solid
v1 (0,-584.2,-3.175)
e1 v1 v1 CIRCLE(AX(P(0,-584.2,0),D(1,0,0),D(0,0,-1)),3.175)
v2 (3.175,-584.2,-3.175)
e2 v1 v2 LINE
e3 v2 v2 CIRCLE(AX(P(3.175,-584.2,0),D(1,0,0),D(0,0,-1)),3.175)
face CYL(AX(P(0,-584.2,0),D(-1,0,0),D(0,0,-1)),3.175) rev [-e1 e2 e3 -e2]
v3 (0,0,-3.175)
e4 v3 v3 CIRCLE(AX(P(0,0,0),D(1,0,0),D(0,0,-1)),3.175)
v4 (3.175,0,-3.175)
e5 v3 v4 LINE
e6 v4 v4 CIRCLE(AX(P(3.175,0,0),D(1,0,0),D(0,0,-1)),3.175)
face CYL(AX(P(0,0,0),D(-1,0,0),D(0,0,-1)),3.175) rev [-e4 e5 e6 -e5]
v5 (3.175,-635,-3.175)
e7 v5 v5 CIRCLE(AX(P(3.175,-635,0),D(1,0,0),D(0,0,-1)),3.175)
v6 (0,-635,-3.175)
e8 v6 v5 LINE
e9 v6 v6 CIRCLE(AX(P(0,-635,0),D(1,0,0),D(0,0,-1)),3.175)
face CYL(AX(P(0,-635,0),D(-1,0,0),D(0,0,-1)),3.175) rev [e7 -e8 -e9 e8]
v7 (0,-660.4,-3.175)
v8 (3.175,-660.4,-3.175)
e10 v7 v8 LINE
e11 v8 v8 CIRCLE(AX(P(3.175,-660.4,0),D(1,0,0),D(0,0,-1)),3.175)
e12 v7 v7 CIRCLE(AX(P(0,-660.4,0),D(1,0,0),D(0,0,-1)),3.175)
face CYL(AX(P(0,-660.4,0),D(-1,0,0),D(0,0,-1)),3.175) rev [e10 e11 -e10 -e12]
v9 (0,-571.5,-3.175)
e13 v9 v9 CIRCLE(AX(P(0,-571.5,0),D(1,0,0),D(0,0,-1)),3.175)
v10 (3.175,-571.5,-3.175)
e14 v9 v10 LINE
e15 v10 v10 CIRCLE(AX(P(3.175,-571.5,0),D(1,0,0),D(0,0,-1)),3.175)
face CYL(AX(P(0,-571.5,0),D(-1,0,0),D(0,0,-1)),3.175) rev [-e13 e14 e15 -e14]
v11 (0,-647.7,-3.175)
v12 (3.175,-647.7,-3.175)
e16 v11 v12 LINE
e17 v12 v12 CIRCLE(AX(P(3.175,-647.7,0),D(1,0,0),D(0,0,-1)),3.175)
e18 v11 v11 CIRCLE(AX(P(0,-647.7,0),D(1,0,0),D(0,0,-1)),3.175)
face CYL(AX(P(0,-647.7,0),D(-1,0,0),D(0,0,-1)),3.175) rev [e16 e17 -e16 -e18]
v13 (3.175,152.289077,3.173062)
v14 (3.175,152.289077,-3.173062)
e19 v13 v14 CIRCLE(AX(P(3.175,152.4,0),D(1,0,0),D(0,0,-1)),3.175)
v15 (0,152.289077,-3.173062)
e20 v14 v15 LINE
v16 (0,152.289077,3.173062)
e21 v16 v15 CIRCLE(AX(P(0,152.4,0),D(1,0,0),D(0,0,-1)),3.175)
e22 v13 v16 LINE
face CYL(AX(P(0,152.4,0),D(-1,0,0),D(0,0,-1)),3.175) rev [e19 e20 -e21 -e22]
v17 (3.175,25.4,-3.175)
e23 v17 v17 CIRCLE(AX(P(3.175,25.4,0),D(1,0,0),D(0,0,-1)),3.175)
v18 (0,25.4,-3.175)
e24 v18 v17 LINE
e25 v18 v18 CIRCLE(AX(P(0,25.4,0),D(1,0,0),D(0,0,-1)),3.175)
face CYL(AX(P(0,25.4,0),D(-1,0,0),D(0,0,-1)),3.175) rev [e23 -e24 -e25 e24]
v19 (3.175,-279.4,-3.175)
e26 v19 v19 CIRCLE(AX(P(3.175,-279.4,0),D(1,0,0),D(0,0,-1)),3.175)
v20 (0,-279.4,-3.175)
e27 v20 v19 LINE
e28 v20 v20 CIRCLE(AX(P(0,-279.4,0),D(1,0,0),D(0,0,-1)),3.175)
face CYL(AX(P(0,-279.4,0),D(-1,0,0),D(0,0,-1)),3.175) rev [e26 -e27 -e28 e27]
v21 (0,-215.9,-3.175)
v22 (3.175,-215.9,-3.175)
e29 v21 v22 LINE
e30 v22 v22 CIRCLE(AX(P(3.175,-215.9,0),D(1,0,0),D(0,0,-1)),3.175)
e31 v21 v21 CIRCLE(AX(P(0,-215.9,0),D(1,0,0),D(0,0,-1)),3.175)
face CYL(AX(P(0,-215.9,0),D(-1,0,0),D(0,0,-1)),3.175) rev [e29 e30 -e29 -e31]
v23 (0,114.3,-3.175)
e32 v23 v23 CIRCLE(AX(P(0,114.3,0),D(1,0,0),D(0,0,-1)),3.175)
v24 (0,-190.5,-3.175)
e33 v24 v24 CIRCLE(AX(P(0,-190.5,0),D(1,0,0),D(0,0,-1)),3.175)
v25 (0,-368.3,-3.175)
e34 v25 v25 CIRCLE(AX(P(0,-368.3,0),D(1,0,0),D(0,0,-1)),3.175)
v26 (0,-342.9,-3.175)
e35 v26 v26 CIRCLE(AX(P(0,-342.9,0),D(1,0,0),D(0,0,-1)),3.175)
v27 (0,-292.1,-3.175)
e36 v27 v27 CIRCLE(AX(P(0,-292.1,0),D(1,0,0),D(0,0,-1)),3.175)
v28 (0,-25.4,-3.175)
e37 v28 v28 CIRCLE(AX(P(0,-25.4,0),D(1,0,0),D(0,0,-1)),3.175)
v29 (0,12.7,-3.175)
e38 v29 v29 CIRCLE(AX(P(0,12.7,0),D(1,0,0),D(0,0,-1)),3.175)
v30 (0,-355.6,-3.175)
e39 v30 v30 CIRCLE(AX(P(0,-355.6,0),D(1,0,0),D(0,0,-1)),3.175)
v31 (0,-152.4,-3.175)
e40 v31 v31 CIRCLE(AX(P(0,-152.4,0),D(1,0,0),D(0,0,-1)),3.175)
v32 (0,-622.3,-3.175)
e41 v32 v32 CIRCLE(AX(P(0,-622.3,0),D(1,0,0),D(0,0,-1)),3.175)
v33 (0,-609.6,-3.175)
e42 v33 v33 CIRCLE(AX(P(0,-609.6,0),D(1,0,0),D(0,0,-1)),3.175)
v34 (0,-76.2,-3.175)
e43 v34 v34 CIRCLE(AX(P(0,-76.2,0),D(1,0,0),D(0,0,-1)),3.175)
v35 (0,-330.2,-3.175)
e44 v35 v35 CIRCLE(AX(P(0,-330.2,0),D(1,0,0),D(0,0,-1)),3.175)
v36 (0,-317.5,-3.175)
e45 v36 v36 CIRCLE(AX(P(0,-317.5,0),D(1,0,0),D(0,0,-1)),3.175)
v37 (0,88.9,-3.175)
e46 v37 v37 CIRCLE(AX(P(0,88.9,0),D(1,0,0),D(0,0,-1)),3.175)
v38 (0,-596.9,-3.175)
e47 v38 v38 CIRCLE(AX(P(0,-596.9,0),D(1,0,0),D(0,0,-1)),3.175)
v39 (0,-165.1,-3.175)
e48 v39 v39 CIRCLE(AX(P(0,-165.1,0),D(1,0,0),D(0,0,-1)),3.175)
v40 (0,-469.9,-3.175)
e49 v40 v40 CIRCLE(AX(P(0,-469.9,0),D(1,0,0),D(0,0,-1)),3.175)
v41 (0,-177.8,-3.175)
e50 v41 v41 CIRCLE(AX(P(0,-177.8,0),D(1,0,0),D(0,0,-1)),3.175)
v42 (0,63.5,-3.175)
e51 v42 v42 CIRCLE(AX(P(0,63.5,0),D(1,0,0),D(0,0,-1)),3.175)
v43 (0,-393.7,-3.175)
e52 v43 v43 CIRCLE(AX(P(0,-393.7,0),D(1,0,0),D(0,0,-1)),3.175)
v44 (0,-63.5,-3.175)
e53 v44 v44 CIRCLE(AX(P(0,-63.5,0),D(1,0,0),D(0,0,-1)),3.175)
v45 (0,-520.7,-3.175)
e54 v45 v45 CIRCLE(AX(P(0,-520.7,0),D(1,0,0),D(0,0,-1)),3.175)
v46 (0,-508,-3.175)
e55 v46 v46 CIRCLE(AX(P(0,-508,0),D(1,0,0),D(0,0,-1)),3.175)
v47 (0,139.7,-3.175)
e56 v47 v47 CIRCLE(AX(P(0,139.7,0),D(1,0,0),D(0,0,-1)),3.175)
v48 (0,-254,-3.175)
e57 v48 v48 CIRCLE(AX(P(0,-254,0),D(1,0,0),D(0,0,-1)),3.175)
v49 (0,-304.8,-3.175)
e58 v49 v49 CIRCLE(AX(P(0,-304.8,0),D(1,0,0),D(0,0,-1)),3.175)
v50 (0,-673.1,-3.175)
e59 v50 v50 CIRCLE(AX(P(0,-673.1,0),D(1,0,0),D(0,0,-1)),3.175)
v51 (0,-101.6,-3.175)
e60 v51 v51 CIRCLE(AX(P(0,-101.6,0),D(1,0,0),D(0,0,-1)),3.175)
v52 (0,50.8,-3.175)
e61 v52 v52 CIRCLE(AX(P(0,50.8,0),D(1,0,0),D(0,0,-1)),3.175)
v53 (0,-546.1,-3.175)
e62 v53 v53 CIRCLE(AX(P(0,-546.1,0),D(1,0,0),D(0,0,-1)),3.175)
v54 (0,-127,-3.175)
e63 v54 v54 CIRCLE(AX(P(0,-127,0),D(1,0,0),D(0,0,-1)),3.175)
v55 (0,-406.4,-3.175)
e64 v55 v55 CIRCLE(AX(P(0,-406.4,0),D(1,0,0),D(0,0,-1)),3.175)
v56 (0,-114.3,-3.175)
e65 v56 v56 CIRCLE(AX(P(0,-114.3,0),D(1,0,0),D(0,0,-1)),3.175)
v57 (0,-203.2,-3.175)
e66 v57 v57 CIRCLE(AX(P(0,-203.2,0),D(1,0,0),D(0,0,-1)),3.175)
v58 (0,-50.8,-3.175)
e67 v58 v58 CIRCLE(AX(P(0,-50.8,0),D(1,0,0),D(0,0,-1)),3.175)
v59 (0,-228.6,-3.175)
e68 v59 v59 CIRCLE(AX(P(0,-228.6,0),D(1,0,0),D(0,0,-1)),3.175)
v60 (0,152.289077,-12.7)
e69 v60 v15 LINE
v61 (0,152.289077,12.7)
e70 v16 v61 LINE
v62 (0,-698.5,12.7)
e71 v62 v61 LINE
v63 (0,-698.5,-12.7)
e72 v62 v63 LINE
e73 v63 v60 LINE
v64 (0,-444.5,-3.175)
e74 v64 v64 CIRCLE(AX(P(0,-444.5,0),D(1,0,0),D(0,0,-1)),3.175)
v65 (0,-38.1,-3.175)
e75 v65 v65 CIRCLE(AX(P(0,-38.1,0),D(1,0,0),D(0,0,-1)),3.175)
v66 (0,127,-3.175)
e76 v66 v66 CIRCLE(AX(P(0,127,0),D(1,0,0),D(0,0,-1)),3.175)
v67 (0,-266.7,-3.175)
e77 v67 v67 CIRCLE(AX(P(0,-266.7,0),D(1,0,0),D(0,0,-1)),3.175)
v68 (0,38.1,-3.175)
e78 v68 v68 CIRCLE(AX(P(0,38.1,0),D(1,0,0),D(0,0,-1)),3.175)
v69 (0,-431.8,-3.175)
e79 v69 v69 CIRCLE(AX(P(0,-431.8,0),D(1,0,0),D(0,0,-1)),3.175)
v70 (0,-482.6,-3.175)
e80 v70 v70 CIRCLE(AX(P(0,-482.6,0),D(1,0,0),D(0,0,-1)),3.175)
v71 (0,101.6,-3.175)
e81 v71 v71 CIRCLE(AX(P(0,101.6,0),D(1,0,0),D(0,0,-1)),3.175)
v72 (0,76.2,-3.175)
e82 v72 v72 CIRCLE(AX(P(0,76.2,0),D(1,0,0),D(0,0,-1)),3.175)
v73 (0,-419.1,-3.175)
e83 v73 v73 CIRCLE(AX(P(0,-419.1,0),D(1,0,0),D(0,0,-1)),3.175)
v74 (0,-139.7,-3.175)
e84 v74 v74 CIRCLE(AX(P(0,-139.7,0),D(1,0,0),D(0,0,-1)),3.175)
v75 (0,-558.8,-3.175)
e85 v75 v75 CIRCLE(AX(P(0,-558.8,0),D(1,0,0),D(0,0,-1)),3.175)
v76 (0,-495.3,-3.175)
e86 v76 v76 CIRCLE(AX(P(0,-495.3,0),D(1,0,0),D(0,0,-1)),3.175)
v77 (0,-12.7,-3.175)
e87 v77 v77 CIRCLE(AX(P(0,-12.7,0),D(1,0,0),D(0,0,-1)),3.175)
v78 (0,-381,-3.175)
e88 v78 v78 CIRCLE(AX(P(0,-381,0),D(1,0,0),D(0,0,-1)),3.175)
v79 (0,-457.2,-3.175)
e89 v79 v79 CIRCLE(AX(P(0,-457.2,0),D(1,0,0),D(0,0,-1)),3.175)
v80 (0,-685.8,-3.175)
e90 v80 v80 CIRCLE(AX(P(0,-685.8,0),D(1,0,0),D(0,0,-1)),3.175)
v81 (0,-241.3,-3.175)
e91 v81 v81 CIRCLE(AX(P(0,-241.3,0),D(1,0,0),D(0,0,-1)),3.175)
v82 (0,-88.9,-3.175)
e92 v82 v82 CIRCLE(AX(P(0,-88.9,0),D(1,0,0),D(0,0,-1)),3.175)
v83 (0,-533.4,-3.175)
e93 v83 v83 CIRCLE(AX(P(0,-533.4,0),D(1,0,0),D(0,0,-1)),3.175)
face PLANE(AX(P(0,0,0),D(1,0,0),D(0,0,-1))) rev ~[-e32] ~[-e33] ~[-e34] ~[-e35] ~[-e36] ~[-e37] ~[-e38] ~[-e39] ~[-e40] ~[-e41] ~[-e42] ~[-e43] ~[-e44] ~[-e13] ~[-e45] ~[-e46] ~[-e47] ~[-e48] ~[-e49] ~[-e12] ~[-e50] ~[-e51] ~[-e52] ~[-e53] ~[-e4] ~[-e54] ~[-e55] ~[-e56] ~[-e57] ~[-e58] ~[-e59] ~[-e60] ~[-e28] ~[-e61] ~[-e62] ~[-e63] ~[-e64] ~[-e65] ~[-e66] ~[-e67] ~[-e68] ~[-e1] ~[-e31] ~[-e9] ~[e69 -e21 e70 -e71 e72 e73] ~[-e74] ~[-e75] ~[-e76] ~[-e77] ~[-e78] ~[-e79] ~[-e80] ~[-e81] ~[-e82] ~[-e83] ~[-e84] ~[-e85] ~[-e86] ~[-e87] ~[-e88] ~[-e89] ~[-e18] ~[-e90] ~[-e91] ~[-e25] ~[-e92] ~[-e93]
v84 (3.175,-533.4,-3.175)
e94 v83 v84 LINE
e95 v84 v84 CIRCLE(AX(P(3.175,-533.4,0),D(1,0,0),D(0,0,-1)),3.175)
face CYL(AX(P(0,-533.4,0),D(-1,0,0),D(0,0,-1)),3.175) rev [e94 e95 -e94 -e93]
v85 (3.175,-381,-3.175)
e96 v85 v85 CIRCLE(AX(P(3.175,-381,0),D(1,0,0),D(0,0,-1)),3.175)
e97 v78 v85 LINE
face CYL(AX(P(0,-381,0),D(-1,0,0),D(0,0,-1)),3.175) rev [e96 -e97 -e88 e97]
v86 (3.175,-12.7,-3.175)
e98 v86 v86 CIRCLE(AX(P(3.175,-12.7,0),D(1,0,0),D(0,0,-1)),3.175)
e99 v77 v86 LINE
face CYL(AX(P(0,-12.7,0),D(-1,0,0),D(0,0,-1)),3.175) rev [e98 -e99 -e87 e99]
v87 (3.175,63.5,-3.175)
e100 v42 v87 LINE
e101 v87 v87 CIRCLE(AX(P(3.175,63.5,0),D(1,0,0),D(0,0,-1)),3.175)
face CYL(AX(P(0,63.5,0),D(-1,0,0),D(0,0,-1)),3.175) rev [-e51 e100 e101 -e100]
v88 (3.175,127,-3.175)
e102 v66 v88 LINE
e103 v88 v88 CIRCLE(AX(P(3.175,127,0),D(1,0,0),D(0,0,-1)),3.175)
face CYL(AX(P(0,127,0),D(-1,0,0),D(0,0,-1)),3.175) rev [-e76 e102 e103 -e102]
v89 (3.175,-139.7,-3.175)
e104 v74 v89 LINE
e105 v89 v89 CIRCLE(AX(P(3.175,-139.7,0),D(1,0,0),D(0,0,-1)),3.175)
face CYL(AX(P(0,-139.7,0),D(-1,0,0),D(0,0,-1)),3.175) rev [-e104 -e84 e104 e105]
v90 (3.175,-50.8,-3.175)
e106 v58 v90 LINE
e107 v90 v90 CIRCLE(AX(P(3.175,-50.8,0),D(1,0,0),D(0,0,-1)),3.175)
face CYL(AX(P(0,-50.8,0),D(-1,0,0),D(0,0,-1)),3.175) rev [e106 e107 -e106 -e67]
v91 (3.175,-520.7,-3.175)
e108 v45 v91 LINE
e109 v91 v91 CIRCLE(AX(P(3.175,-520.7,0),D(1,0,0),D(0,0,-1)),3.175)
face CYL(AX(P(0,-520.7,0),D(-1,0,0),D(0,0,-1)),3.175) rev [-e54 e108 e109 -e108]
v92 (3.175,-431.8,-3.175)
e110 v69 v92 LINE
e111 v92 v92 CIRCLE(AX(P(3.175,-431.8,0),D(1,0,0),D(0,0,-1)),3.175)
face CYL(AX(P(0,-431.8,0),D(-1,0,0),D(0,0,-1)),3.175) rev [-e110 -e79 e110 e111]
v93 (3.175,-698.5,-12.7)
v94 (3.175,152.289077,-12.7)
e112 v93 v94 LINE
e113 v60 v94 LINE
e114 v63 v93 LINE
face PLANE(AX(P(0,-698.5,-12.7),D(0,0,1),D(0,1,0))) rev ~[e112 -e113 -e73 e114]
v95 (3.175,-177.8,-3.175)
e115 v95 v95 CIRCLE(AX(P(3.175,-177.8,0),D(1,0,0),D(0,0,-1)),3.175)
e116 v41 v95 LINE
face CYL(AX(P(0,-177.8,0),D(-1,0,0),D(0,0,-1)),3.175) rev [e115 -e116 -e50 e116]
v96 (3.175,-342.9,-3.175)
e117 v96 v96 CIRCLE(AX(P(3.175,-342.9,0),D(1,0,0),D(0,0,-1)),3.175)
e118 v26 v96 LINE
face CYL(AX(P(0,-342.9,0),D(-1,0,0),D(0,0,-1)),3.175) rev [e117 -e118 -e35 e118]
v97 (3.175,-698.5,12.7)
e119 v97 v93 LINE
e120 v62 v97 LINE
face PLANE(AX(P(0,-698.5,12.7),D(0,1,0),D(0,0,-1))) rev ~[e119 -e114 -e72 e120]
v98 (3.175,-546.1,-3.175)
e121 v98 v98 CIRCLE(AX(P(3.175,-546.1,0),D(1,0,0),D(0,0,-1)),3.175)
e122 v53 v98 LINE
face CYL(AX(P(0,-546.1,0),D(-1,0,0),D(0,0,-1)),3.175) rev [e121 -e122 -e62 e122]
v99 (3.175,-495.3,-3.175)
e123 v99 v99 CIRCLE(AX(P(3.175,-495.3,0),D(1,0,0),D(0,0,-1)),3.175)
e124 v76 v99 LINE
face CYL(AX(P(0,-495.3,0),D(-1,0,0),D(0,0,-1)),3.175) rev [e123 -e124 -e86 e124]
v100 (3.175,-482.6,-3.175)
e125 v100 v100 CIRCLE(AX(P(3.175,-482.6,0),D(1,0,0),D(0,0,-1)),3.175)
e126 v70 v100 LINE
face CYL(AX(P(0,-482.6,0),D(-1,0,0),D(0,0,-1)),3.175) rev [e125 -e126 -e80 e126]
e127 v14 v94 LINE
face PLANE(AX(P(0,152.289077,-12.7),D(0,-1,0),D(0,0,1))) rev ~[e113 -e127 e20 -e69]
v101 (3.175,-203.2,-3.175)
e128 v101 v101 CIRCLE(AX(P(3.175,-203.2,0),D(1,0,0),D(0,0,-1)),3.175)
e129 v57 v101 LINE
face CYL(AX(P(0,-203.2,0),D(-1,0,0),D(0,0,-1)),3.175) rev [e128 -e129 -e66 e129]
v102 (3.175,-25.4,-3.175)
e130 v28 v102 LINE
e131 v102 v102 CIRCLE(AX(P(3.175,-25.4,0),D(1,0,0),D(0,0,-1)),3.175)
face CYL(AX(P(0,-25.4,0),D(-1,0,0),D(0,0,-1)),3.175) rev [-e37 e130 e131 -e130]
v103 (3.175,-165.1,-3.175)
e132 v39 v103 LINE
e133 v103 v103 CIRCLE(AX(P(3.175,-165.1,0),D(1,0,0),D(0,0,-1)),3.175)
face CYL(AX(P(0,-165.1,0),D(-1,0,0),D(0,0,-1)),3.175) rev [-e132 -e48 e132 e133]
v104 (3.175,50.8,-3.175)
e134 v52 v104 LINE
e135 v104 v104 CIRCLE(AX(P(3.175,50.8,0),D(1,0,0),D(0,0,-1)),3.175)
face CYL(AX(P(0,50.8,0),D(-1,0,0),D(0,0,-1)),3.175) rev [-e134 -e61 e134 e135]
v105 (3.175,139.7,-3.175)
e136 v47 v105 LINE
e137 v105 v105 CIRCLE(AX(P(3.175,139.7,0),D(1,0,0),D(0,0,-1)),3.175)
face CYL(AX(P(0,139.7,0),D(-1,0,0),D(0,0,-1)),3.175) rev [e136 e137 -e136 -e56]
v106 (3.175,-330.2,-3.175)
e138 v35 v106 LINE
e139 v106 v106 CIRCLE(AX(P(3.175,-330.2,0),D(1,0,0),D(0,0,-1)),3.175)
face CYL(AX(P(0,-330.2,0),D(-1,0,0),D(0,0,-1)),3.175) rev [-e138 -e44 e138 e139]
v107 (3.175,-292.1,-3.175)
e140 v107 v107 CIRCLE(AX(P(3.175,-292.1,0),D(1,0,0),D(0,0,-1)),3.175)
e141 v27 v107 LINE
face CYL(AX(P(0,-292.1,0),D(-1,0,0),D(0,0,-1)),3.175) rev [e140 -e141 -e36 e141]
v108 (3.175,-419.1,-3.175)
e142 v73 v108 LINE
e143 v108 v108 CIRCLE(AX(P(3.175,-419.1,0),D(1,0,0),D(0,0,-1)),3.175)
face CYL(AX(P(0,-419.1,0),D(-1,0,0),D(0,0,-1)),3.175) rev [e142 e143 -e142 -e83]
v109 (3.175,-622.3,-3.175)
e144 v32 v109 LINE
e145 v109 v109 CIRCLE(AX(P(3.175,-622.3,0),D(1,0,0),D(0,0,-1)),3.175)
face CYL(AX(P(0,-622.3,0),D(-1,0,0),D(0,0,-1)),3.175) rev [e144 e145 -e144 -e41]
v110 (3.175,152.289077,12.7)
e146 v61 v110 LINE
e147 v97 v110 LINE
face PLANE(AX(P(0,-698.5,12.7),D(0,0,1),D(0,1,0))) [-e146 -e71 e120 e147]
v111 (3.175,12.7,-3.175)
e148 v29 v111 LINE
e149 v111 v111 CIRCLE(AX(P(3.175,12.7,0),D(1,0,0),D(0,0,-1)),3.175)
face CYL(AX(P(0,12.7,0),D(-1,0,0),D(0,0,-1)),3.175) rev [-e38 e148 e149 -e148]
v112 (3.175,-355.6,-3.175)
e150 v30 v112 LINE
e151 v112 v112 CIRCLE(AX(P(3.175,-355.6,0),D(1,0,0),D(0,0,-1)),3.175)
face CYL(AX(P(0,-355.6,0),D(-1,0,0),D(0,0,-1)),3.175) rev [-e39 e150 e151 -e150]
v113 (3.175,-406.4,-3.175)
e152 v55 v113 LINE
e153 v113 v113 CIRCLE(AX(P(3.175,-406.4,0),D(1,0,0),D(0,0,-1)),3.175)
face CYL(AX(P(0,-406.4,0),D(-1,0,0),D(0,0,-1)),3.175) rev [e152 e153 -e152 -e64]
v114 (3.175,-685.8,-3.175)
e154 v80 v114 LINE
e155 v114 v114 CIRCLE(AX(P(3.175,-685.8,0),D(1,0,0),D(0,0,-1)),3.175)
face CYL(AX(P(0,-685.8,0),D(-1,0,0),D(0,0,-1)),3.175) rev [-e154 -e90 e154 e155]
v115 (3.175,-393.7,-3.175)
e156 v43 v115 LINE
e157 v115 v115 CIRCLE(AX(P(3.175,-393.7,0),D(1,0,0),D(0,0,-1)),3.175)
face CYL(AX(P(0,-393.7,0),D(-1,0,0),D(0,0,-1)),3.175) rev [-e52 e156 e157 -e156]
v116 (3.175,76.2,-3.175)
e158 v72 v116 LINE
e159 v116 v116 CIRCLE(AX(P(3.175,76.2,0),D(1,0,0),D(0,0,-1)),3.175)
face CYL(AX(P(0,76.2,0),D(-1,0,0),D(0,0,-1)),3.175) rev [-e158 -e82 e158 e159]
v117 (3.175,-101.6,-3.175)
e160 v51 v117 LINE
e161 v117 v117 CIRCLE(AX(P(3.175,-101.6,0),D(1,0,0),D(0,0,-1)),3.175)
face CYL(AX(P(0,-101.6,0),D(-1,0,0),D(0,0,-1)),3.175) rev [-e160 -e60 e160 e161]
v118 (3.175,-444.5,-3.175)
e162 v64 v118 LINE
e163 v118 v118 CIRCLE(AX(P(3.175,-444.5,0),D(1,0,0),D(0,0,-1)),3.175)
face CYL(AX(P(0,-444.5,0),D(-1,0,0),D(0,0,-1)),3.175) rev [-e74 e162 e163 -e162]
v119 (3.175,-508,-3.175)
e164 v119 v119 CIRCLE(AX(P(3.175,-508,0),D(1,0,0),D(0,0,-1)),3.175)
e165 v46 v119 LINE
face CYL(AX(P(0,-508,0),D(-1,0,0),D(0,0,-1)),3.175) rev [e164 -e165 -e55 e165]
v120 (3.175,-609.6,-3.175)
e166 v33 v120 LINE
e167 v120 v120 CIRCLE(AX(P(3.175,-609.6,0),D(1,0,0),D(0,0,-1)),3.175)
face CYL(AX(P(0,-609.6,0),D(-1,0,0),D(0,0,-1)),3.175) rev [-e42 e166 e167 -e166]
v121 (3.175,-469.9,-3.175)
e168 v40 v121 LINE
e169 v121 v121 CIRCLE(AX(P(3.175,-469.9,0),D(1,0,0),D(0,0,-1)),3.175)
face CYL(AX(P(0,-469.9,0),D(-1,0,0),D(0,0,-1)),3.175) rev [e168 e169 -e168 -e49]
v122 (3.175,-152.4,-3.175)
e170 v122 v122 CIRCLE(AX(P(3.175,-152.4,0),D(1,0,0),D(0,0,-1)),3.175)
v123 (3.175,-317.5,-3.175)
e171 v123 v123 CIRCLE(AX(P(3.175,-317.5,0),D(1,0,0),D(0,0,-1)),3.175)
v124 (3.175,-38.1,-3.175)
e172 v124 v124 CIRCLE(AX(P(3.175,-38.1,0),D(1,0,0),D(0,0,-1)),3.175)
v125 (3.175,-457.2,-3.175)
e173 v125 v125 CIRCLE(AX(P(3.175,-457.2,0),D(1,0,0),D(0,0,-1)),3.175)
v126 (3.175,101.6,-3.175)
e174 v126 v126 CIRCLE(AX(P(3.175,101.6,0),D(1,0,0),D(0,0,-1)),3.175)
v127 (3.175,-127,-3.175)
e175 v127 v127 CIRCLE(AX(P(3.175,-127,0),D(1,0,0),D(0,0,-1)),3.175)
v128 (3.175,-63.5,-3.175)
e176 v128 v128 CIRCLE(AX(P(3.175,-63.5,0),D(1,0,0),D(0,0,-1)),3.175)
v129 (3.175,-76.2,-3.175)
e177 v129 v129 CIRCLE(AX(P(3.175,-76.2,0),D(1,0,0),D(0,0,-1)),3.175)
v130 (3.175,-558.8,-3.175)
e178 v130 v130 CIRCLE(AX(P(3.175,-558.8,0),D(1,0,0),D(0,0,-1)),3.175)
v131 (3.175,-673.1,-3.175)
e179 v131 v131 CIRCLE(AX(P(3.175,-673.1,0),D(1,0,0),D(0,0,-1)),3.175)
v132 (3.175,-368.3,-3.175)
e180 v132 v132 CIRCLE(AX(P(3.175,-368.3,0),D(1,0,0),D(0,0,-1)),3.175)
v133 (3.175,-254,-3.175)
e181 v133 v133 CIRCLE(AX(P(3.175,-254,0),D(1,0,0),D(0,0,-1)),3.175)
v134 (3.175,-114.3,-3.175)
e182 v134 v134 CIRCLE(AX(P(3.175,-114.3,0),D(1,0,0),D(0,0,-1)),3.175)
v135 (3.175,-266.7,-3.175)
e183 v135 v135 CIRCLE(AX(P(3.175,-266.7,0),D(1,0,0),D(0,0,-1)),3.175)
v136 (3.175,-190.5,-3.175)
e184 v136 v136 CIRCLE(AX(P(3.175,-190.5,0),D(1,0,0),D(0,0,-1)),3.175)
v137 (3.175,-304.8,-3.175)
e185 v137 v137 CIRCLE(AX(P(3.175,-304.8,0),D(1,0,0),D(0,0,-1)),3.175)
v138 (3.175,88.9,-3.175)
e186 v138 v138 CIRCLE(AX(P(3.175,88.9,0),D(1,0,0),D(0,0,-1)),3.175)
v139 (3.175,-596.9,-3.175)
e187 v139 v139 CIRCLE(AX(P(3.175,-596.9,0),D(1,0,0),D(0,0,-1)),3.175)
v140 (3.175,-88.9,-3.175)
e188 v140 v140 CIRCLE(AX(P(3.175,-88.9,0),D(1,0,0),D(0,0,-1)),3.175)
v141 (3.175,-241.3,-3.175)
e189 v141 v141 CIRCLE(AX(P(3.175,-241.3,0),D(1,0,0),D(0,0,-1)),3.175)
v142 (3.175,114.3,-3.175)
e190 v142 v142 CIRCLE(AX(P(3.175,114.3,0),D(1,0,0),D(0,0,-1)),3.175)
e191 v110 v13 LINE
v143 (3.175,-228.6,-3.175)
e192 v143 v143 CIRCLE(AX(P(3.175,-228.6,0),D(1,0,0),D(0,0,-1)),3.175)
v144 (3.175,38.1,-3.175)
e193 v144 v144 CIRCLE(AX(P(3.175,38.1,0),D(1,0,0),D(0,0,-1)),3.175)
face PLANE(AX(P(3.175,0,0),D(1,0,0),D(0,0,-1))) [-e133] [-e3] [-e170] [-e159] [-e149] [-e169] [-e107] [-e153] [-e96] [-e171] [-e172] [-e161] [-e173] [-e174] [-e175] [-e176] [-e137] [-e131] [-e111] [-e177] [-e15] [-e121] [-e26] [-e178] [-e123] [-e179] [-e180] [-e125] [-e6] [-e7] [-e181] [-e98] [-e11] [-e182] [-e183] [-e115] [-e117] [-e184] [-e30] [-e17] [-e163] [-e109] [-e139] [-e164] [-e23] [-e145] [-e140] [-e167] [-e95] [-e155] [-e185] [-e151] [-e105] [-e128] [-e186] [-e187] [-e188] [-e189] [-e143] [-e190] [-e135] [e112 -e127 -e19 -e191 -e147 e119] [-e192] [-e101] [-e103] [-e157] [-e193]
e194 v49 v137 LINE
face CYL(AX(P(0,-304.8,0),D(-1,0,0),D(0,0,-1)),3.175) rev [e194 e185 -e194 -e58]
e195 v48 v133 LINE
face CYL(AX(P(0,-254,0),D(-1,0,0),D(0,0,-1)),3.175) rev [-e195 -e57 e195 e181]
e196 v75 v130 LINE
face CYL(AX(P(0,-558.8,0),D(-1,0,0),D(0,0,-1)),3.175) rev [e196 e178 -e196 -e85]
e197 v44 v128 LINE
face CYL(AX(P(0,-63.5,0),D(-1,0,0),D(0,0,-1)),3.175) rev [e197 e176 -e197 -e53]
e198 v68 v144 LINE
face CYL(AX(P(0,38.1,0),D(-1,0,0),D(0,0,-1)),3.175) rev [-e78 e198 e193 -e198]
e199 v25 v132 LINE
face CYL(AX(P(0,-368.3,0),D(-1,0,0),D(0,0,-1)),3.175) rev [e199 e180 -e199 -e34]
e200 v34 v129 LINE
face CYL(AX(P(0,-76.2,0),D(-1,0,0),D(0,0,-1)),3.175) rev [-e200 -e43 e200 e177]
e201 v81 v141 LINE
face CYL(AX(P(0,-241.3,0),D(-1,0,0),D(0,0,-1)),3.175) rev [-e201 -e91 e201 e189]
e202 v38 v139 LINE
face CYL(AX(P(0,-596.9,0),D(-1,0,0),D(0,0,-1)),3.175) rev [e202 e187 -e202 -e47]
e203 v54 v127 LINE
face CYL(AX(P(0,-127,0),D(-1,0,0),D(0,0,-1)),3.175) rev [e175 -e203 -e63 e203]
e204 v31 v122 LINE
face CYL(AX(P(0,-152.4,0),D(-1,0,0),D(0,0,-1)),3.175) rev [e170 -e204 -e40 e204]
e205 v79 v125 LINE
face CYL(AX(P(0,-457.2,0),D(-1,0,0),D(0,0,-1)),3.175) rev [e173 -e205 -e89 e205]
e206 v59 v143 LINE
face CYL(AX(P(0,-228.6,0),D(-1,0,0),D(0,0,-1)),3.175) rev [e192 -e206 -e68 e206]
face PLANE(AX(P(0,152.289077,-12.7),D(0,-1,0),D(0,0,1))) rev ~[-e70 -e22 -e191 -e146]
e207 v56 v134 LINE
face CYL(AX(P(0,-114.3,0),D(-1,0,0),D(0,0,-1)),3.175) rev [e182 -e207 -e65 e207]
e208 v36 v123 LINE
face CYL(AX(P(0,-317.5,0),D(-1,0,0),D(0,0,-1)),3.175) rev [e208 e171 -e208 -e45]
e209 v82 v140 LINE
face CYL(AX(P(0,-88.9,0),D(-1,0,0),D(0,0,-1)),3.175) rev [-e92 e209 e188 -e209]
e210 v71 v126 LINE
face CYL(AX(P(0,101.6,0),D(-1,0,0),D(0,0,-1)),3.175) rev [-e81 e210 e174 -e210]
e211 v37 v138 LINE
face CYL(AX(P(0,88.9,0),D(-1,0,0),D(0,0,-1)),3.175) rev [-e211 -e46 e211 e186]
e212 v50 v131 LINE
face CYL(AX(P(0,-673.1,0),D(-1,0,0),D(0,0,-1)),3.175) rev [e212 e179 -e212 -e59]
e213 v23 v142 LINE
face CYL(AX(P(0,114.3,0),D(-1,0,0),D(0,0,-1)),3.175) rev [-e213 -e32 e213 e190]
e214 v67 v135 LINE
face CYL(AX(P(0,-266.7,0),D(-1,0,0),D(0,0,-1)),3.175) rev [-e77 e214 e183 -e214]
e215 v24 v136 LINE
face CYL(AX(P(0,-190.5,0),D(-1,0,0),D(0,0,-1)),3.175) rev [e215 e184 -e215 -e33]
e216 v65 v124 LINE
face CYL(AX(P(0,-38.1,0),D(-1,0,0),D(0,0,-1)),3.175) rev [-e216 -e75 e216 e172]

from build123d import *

# Parameters (mm, degrees)
SKETCH1_W           = 25.4
SKETCH1_H           = 1397
SKETCH1_R           = 3.175
BOSS_EXTRUDE1_DEPTH = 3.175
SKETCH2_W           = 25.4
SKETCH2_H           = 546.210923287
CUT_EXTRUDE1_DEPTH  = 699.622659685


with BuildPart() as part:
    # Sketch1 → Boss-Extrude1 (new body)
    with BuildSketch(Plane(origin=(0, 0, 0), x_dir=(0, 0, -1), z_dir=(1, 0, 0))):
        Rectangle(SKETCH1_W, SKETCH1_H)
        with Locations((0, -685.8)):
            Circle(SKETCH1_R, mode=Mode.SUBTRACT)
        with Locations((0, -673.1)):
            Circle(SKETCH1_R, mode=Mode.SUBTRACT)
        with Locations((0, -660.4)):
            Circle(SKETCH1_R, mode=Mode.SUBTRACT)
        with Locations((0, -647.7)):
            Circle(SKETCH1_R, mode=Mode.SUBTRACT)
        with Locations((0, -635)):
            Circle(SKETCH1_R, mode=Mode.SUBTRACT)
        with Locations((0, -622.3)):
            Circle(SKETCH1_R, mode=Mode.SUBTRACT)
        with Locations((0, -609.6)):
            Circle(SKETCH1_R, mode=Mode.SUBTRACT)
        with Locations((0, -596.9)):
            Circle(SKETCH1_R, mode=Mode.SUBTRACT)
        with Locations((0, -584.2)):
            Circle(SKETCH1_R, mode=Mode.SUBTRACT)
        with Locations((0, -571.5)):
            Circle(SKETCH1_R, mode=Mode.SUBTRACT)
        with Locations((0, -558.8)):
            Circle(SKETCH1_R, mode=Mode.SUBTRACT)
        with Locations((0, -546.1)):
            Circle(SKETCH1_R, mode=Mode.SUBTRACT)
        with Locations((0, -533.4)):
            Circle(SKETCH1_R, mode=Mode.SUBTRACT)
        with Locations((0, -520.7)):
            Circle(SKETCH1_R, mode=Mode.SUBTRACT)
        with Locations((0, -508)):
            Circle(SKETCH1_R, mode=Mode.SUBTRACT)
        with Locations((0, -495.3)):
            Circle(SKETCH1_R, mode=Mode.SUBTRACT)
        with Locations((0, -482.6)):
            Circle(SKETCH1_R, mode=Mode.SUBTRACT)
        with Locations((0, -469.9)):
            Circle(SKETCH1_R, mode=Mode.SUBTRACT)
        with Locations((0, -457.2)):
            Circle(SKETCH1_R, mode=Mode.SUBTRACT)
        with Locations((0, -444.5)):
            Circle(SKETCH1_R, mode=Mode.SUBTRACT)
        with Locations((0, -431.8)):
            Circle(SKETCH1_R, mode=Mode.SUBTRACT)
        with Locations((0, -419.1)):
            Circle(SKETCH1_R, mode=Mode.SUBTRACT)
        with Locations((0, -406.4)):
            Circle(SKETCH1_R, mode=Mode.SUBTRACT)
        with Locations((0, -393.7)):
            Circle(SKETCH1_R, mode=Mode.SUBTRACT)
        with Locations((0, -381)):
            Circle(SKETCH1_R, mode=Mode.SUBTRACT)
        with Locations((0, -368.3)):
            Circle(SKETCH1_R, mode=Mode.SUBTRACT)
        with Locations((0, -355.6)):
            Circle(SKETCH1_R, mode=Mode.SUBTRACT)
        with Locations((0, -342.9)):
            Circle(SKETCH1_R, mode=Mode.SUBTRACT)
        with Locations((0, -330.2)):
            Circle(SKETCH1_R, mode=Mode.SUBTRACT)
        with Locations((0, -317.5)):
            Circle(SKETCH1_R, mode=Mode.SUBTRACT)
        with Locations((0, -304.8)):
            Circle(SKETCH1_R, mode=Mode.SUBTRACT)
        with Locations((0, -292.1)):
            Circle(SKETCH1_R, mode=Mode.SUBTRACT)
        with Locations((0, -279.4)):
            Circle(SKETCH1_R, mode=Mode.SUBTRACT)
        with Locations((0, -266.7)):
            Circle(SKETCH1_R, mode=Mode.SUBTRACT)
        with Locations((0, -254)):
            Circle(SKETCH1_R, mode=Mode.SUBTRACT)
        with Locations((0, -241.3)):
            Circle(SKETCH1_R, mode=Mode.SUBTRACT)
        with Locations((0, -228.6)):
            Circle(SKETCH1_R, mode=Mode.SUBTRACT)
        with Locations((0, -215.9)):
            Circle(SKETCH1_R, mode=Mode.SUBTRACT)
        with Locations((0, -203.2)):
            Circle(SKETCH1_R, mode=Mode.SUBTRACT)
        with Locations((0, -190.5)):
            Circle(SKETCH1_R, mode=Mode.SUBTRACT)
        with Locations((0, -177.8)):
            Circle(SKETCH1_R, mode=Mode.SUBTRACT)
        with Locations((0, -165.1)):
            Circle(SKETCH1_R, mode=Mode.SUBTRACT)
        with Locations((0, -152.4)):
            Circle(SKETCH1_R, mode=Mode.SUBTRACT)
        with Locations((0, -139.7)):
            Circle(SKETCH1_R, mode=Mode.SUBTRACT)
        with Locations((0, -127)):
            Circle(SKETCH1_R, mode=Mode.SUBTRACT)
        with Locations((0, -114.3)):
            Circle(SKETCH1_R, mode=Mode.SUBTRACT)
        with Locations((0, -101.6)):
            Circle(SKETCH1_R, mode=Mode.SUBTRACT)
        with Locations((0, -88.9)):
            Circle(SKETCH1_R, mode=Mode.SUBTRACT)
        with Locations((0, -76.2)):
            Circle(SKETCH1_R, mode=Mode.SUBTRACT)
        with Locations((0, -63.5)):
            Circle(SKETCH1_R, mode=Mode.SUBTRACT)
        with Locations((0, -50.8)):
            Circle(SKETCH1_R, mode=Mode.SUBTRACT)
        with Locations((0, -38.1)):
            Circle(SKETCH1_R, mode=Mode.SUBTRACT)
        with Locations((0, -25.4)):
            Circle(SKETCH1_R, mode=Mode.SUBTRACT)
        with Locations((0, -12.7)):
            Circle(SKETCH1_R, mode=Mode.SUBTRACT)
        Circle(SKETCH1_R, mode=Mode.SUBTRACT)
        with Locations((0, 12.7)):
            Circle(SKETCH1_R, mode=Mode.SUBTRACT)
        with Locations((0, 25.4)):
            Circle(SKETCH1_R, mode=Mode.SUBTRACT)
        with Locations((0, 38.1)):
            Circle(SKETCH1_R, mode=Mode.SUBTRACT)
        with Locations((0, 50.8)):
            Circle(SKETCH1_R, mode=Mode.SUBTRACT)
        with Locations((0, 63.5)):
            Circle(SKETCH1_R, mode=Mode.SUBTRACT)
        with Locations((0, 76.2)):
            Circle(SKETCH1_R, mode=Mode.SUBTRACT)
        with Locations((0, 88.9)):
            Circle(SKETCH1_R, mode=Mode.SUBTRACT)
        with Locations((0, 101.6)):
            Circle(SKETCH1_R, mode=Mode.SUBTRACT)
        with Locations((0, 114.3)):
            Circle(SKETCH1_R, mode=Mode.SUBTRACT)
        with Locations((0, 127)):
            Circle(SKETCH1_R, mode=Mode.SUBTRACT)
        with Locations((0, 139.7)):
            Circle(SKETCH1_R, mode=Mode.SUBTRACT)
        with Locations((0, 152.4)):
            Circle(SKETCH1_R, mode=Mode.SUBTRACT)
        with Locations((0, 165.1)):
            Circle(SKETCH1_R, mode=Mode.SUBTRACT)
        with Locations((0, 177.8)):
            Circle(SKETCH1_R, mode=Mode.SUBTRACT)
        with Locations((0, 190.5)):
            Circle(SKETCH1_R, mode=Mode.SUBTRACT)
        with Locations((0, 203.2)):
            Circle(SKETCH1_R, mode=Mode.SUBTRACT)
        with Locations((0, 215.9)):
            Circle(SKETCH1_R, mode=Mode.SUBTRACT)
        with Locations((0, 228.6)):
            Circle(SKETCH1_R, mode=Mode.SUBTRACT)
        with Locations((0, 241.3)):
            Circle(SKETCH1_R, mode=Mode.SUBTRACT)
        with Locations((0, 254)):
            Circle(SKETCH1_R, mode=Mode.SUBTRACT)
        with Locations((0, 266.7)):
            Circle(SKETCH1_R, mode=Mode.SUBTRACT)
        with Locations((0, 279.4)):
            Circle(SKETCH1_R, mode=Mode.SUBTRACT)
        with Locations((0, 292.1)):
            Circle(SKETCH1_R, mode=Mode.SUBTRACT)
        with Locations((0, 304.8)):
            Circle(SKETCH1_R, mode=Mode.SUBTRACT)
        with Locations((0, 317.5)):
            Circle(SKETCH1_R, mode=Mode.SUBTRACT)
        with Locations((0, 330.2)):
            Circle(SKETCH1_R, mode=Mode.SUBTRACT)
        with Locations((0, 342.9)):
            Circle(SKETCH1_R, mode=Mode.SUBTRACT)
        with Locations((0, 355.6)):
            Circle(SKETCH1_R, mode=Mode.SUBTRACT)
        with Locations((0, 368.3)):
            Circle(SKETCH1_R, mode=Mode.SUBTRACT)
        with Locations((0, 381)):
            Circle(SKETCH1_R, mode=Mode.SUBTRACT)
        with Locations((0, 393.7)):
            Circle(SKETCH1_R, mode=Mode.SUBTRACT)
        with Locations((0, 406.4)):
            Circle(SKETCH1_R, mode=Mode.SUBTRACT)
        with Locations((0, 419.1)):
            Circle(SKETCH1_R, mode=Mode.SUBTRACT)
        with Locations((0, 431.8)):
            Circle(SKETCH1_R, mode=Mode.SUBTRACT)
        with Locations((0, 444.5)):
            Circle(SKETCH1_R, mode=Mode.SUBTRACT)
        with Locations((0, 457.2)):
            Circle(SKETCH1_R, mode=Mode.SUBTRACT)
        with Locations((0, 469.9)):
            Circle(SKETCH1_R, mode=Mode.SUBTRACT)
        with Locations((0, 482.6)):
            Circle(SKETCH1_R, mode=Mode.SUBTRACT)
        with Locations((0, 495.3)):
            Circle(SKETCH1_R, mode=Mode.SUBTRACT)
        with Locations((0, 508)):
            Circle(SKETCH1_R, mode=Mode.SUBTRACT)
        with Locations((0, 520.7)):
            Circle(SKETCH1_R, mode=Mode.SUBTRACT)
        with Locations((0, 533.4)):
            Circle(SKETCH1_R, mode=Mode.SUBTRACT)
        with Locations((0, 546.1)):
            Circle(SKETCH1_R, mode=Mode.SUBTRACT)
        with Locations((0, 558.8)):
            Circle(SKETCH1_R, mode=Mode.SUBTRACT)
        with Locations((0, 571.5)):
            Circle(SKETCH1_R, mode=Mode.SUBTRACT)
        with Locations((0, 584.2)):
            Circle(SKETCH1_R, mode=Mode.SUBTRACT)
        with Locations((0, 596.9)):
            Circle(SKETCH1_R, mode=Mode.SUBTRACT)
        with Locations((0, 609.6)):
            Circle(SKETCH1_R, mode=Mode.SUBTRACT)
        with Locations((0, 622.3)):
            Circle(SKETCH1_R, mode=Mode.SUBTRACT)
        with Locations((0, 635)):
            Circle(SKETCH1_R, mode=Mode.SUBTRACT)
        with Locations((0, 647.7)):
            Circle(SKETCH1_R, mode=Mode.SUBTRACT)
        with Locations((0, 660.4)):
            Circle(SKETCH1_R, mode=Mode.SUBTRACT)
        with Locations((0, 673.1)):
            Circle(SKETCH1_R, mode=Mode.SUBTRACT)
        with Locations((0, 685.8)):
            Circle(SKETCH1_R, mode=Mode.SUBTRACT)
    extrude(amount=BOSS_EXTRUDE1_DEPTH)

    # Sketch2 → Cut-Extrude1 (cut, through all)
    with BuildSketch(Plane.ZY):
        with Locations((0, 425.394538356)):
            Rectangle(SKETCH2_W, SKETCH2_H)
    extrude(amount=-CUT_EXTRUDE1_DEPTH, mode=Mode.SUBTRACT)


solid = part.part
